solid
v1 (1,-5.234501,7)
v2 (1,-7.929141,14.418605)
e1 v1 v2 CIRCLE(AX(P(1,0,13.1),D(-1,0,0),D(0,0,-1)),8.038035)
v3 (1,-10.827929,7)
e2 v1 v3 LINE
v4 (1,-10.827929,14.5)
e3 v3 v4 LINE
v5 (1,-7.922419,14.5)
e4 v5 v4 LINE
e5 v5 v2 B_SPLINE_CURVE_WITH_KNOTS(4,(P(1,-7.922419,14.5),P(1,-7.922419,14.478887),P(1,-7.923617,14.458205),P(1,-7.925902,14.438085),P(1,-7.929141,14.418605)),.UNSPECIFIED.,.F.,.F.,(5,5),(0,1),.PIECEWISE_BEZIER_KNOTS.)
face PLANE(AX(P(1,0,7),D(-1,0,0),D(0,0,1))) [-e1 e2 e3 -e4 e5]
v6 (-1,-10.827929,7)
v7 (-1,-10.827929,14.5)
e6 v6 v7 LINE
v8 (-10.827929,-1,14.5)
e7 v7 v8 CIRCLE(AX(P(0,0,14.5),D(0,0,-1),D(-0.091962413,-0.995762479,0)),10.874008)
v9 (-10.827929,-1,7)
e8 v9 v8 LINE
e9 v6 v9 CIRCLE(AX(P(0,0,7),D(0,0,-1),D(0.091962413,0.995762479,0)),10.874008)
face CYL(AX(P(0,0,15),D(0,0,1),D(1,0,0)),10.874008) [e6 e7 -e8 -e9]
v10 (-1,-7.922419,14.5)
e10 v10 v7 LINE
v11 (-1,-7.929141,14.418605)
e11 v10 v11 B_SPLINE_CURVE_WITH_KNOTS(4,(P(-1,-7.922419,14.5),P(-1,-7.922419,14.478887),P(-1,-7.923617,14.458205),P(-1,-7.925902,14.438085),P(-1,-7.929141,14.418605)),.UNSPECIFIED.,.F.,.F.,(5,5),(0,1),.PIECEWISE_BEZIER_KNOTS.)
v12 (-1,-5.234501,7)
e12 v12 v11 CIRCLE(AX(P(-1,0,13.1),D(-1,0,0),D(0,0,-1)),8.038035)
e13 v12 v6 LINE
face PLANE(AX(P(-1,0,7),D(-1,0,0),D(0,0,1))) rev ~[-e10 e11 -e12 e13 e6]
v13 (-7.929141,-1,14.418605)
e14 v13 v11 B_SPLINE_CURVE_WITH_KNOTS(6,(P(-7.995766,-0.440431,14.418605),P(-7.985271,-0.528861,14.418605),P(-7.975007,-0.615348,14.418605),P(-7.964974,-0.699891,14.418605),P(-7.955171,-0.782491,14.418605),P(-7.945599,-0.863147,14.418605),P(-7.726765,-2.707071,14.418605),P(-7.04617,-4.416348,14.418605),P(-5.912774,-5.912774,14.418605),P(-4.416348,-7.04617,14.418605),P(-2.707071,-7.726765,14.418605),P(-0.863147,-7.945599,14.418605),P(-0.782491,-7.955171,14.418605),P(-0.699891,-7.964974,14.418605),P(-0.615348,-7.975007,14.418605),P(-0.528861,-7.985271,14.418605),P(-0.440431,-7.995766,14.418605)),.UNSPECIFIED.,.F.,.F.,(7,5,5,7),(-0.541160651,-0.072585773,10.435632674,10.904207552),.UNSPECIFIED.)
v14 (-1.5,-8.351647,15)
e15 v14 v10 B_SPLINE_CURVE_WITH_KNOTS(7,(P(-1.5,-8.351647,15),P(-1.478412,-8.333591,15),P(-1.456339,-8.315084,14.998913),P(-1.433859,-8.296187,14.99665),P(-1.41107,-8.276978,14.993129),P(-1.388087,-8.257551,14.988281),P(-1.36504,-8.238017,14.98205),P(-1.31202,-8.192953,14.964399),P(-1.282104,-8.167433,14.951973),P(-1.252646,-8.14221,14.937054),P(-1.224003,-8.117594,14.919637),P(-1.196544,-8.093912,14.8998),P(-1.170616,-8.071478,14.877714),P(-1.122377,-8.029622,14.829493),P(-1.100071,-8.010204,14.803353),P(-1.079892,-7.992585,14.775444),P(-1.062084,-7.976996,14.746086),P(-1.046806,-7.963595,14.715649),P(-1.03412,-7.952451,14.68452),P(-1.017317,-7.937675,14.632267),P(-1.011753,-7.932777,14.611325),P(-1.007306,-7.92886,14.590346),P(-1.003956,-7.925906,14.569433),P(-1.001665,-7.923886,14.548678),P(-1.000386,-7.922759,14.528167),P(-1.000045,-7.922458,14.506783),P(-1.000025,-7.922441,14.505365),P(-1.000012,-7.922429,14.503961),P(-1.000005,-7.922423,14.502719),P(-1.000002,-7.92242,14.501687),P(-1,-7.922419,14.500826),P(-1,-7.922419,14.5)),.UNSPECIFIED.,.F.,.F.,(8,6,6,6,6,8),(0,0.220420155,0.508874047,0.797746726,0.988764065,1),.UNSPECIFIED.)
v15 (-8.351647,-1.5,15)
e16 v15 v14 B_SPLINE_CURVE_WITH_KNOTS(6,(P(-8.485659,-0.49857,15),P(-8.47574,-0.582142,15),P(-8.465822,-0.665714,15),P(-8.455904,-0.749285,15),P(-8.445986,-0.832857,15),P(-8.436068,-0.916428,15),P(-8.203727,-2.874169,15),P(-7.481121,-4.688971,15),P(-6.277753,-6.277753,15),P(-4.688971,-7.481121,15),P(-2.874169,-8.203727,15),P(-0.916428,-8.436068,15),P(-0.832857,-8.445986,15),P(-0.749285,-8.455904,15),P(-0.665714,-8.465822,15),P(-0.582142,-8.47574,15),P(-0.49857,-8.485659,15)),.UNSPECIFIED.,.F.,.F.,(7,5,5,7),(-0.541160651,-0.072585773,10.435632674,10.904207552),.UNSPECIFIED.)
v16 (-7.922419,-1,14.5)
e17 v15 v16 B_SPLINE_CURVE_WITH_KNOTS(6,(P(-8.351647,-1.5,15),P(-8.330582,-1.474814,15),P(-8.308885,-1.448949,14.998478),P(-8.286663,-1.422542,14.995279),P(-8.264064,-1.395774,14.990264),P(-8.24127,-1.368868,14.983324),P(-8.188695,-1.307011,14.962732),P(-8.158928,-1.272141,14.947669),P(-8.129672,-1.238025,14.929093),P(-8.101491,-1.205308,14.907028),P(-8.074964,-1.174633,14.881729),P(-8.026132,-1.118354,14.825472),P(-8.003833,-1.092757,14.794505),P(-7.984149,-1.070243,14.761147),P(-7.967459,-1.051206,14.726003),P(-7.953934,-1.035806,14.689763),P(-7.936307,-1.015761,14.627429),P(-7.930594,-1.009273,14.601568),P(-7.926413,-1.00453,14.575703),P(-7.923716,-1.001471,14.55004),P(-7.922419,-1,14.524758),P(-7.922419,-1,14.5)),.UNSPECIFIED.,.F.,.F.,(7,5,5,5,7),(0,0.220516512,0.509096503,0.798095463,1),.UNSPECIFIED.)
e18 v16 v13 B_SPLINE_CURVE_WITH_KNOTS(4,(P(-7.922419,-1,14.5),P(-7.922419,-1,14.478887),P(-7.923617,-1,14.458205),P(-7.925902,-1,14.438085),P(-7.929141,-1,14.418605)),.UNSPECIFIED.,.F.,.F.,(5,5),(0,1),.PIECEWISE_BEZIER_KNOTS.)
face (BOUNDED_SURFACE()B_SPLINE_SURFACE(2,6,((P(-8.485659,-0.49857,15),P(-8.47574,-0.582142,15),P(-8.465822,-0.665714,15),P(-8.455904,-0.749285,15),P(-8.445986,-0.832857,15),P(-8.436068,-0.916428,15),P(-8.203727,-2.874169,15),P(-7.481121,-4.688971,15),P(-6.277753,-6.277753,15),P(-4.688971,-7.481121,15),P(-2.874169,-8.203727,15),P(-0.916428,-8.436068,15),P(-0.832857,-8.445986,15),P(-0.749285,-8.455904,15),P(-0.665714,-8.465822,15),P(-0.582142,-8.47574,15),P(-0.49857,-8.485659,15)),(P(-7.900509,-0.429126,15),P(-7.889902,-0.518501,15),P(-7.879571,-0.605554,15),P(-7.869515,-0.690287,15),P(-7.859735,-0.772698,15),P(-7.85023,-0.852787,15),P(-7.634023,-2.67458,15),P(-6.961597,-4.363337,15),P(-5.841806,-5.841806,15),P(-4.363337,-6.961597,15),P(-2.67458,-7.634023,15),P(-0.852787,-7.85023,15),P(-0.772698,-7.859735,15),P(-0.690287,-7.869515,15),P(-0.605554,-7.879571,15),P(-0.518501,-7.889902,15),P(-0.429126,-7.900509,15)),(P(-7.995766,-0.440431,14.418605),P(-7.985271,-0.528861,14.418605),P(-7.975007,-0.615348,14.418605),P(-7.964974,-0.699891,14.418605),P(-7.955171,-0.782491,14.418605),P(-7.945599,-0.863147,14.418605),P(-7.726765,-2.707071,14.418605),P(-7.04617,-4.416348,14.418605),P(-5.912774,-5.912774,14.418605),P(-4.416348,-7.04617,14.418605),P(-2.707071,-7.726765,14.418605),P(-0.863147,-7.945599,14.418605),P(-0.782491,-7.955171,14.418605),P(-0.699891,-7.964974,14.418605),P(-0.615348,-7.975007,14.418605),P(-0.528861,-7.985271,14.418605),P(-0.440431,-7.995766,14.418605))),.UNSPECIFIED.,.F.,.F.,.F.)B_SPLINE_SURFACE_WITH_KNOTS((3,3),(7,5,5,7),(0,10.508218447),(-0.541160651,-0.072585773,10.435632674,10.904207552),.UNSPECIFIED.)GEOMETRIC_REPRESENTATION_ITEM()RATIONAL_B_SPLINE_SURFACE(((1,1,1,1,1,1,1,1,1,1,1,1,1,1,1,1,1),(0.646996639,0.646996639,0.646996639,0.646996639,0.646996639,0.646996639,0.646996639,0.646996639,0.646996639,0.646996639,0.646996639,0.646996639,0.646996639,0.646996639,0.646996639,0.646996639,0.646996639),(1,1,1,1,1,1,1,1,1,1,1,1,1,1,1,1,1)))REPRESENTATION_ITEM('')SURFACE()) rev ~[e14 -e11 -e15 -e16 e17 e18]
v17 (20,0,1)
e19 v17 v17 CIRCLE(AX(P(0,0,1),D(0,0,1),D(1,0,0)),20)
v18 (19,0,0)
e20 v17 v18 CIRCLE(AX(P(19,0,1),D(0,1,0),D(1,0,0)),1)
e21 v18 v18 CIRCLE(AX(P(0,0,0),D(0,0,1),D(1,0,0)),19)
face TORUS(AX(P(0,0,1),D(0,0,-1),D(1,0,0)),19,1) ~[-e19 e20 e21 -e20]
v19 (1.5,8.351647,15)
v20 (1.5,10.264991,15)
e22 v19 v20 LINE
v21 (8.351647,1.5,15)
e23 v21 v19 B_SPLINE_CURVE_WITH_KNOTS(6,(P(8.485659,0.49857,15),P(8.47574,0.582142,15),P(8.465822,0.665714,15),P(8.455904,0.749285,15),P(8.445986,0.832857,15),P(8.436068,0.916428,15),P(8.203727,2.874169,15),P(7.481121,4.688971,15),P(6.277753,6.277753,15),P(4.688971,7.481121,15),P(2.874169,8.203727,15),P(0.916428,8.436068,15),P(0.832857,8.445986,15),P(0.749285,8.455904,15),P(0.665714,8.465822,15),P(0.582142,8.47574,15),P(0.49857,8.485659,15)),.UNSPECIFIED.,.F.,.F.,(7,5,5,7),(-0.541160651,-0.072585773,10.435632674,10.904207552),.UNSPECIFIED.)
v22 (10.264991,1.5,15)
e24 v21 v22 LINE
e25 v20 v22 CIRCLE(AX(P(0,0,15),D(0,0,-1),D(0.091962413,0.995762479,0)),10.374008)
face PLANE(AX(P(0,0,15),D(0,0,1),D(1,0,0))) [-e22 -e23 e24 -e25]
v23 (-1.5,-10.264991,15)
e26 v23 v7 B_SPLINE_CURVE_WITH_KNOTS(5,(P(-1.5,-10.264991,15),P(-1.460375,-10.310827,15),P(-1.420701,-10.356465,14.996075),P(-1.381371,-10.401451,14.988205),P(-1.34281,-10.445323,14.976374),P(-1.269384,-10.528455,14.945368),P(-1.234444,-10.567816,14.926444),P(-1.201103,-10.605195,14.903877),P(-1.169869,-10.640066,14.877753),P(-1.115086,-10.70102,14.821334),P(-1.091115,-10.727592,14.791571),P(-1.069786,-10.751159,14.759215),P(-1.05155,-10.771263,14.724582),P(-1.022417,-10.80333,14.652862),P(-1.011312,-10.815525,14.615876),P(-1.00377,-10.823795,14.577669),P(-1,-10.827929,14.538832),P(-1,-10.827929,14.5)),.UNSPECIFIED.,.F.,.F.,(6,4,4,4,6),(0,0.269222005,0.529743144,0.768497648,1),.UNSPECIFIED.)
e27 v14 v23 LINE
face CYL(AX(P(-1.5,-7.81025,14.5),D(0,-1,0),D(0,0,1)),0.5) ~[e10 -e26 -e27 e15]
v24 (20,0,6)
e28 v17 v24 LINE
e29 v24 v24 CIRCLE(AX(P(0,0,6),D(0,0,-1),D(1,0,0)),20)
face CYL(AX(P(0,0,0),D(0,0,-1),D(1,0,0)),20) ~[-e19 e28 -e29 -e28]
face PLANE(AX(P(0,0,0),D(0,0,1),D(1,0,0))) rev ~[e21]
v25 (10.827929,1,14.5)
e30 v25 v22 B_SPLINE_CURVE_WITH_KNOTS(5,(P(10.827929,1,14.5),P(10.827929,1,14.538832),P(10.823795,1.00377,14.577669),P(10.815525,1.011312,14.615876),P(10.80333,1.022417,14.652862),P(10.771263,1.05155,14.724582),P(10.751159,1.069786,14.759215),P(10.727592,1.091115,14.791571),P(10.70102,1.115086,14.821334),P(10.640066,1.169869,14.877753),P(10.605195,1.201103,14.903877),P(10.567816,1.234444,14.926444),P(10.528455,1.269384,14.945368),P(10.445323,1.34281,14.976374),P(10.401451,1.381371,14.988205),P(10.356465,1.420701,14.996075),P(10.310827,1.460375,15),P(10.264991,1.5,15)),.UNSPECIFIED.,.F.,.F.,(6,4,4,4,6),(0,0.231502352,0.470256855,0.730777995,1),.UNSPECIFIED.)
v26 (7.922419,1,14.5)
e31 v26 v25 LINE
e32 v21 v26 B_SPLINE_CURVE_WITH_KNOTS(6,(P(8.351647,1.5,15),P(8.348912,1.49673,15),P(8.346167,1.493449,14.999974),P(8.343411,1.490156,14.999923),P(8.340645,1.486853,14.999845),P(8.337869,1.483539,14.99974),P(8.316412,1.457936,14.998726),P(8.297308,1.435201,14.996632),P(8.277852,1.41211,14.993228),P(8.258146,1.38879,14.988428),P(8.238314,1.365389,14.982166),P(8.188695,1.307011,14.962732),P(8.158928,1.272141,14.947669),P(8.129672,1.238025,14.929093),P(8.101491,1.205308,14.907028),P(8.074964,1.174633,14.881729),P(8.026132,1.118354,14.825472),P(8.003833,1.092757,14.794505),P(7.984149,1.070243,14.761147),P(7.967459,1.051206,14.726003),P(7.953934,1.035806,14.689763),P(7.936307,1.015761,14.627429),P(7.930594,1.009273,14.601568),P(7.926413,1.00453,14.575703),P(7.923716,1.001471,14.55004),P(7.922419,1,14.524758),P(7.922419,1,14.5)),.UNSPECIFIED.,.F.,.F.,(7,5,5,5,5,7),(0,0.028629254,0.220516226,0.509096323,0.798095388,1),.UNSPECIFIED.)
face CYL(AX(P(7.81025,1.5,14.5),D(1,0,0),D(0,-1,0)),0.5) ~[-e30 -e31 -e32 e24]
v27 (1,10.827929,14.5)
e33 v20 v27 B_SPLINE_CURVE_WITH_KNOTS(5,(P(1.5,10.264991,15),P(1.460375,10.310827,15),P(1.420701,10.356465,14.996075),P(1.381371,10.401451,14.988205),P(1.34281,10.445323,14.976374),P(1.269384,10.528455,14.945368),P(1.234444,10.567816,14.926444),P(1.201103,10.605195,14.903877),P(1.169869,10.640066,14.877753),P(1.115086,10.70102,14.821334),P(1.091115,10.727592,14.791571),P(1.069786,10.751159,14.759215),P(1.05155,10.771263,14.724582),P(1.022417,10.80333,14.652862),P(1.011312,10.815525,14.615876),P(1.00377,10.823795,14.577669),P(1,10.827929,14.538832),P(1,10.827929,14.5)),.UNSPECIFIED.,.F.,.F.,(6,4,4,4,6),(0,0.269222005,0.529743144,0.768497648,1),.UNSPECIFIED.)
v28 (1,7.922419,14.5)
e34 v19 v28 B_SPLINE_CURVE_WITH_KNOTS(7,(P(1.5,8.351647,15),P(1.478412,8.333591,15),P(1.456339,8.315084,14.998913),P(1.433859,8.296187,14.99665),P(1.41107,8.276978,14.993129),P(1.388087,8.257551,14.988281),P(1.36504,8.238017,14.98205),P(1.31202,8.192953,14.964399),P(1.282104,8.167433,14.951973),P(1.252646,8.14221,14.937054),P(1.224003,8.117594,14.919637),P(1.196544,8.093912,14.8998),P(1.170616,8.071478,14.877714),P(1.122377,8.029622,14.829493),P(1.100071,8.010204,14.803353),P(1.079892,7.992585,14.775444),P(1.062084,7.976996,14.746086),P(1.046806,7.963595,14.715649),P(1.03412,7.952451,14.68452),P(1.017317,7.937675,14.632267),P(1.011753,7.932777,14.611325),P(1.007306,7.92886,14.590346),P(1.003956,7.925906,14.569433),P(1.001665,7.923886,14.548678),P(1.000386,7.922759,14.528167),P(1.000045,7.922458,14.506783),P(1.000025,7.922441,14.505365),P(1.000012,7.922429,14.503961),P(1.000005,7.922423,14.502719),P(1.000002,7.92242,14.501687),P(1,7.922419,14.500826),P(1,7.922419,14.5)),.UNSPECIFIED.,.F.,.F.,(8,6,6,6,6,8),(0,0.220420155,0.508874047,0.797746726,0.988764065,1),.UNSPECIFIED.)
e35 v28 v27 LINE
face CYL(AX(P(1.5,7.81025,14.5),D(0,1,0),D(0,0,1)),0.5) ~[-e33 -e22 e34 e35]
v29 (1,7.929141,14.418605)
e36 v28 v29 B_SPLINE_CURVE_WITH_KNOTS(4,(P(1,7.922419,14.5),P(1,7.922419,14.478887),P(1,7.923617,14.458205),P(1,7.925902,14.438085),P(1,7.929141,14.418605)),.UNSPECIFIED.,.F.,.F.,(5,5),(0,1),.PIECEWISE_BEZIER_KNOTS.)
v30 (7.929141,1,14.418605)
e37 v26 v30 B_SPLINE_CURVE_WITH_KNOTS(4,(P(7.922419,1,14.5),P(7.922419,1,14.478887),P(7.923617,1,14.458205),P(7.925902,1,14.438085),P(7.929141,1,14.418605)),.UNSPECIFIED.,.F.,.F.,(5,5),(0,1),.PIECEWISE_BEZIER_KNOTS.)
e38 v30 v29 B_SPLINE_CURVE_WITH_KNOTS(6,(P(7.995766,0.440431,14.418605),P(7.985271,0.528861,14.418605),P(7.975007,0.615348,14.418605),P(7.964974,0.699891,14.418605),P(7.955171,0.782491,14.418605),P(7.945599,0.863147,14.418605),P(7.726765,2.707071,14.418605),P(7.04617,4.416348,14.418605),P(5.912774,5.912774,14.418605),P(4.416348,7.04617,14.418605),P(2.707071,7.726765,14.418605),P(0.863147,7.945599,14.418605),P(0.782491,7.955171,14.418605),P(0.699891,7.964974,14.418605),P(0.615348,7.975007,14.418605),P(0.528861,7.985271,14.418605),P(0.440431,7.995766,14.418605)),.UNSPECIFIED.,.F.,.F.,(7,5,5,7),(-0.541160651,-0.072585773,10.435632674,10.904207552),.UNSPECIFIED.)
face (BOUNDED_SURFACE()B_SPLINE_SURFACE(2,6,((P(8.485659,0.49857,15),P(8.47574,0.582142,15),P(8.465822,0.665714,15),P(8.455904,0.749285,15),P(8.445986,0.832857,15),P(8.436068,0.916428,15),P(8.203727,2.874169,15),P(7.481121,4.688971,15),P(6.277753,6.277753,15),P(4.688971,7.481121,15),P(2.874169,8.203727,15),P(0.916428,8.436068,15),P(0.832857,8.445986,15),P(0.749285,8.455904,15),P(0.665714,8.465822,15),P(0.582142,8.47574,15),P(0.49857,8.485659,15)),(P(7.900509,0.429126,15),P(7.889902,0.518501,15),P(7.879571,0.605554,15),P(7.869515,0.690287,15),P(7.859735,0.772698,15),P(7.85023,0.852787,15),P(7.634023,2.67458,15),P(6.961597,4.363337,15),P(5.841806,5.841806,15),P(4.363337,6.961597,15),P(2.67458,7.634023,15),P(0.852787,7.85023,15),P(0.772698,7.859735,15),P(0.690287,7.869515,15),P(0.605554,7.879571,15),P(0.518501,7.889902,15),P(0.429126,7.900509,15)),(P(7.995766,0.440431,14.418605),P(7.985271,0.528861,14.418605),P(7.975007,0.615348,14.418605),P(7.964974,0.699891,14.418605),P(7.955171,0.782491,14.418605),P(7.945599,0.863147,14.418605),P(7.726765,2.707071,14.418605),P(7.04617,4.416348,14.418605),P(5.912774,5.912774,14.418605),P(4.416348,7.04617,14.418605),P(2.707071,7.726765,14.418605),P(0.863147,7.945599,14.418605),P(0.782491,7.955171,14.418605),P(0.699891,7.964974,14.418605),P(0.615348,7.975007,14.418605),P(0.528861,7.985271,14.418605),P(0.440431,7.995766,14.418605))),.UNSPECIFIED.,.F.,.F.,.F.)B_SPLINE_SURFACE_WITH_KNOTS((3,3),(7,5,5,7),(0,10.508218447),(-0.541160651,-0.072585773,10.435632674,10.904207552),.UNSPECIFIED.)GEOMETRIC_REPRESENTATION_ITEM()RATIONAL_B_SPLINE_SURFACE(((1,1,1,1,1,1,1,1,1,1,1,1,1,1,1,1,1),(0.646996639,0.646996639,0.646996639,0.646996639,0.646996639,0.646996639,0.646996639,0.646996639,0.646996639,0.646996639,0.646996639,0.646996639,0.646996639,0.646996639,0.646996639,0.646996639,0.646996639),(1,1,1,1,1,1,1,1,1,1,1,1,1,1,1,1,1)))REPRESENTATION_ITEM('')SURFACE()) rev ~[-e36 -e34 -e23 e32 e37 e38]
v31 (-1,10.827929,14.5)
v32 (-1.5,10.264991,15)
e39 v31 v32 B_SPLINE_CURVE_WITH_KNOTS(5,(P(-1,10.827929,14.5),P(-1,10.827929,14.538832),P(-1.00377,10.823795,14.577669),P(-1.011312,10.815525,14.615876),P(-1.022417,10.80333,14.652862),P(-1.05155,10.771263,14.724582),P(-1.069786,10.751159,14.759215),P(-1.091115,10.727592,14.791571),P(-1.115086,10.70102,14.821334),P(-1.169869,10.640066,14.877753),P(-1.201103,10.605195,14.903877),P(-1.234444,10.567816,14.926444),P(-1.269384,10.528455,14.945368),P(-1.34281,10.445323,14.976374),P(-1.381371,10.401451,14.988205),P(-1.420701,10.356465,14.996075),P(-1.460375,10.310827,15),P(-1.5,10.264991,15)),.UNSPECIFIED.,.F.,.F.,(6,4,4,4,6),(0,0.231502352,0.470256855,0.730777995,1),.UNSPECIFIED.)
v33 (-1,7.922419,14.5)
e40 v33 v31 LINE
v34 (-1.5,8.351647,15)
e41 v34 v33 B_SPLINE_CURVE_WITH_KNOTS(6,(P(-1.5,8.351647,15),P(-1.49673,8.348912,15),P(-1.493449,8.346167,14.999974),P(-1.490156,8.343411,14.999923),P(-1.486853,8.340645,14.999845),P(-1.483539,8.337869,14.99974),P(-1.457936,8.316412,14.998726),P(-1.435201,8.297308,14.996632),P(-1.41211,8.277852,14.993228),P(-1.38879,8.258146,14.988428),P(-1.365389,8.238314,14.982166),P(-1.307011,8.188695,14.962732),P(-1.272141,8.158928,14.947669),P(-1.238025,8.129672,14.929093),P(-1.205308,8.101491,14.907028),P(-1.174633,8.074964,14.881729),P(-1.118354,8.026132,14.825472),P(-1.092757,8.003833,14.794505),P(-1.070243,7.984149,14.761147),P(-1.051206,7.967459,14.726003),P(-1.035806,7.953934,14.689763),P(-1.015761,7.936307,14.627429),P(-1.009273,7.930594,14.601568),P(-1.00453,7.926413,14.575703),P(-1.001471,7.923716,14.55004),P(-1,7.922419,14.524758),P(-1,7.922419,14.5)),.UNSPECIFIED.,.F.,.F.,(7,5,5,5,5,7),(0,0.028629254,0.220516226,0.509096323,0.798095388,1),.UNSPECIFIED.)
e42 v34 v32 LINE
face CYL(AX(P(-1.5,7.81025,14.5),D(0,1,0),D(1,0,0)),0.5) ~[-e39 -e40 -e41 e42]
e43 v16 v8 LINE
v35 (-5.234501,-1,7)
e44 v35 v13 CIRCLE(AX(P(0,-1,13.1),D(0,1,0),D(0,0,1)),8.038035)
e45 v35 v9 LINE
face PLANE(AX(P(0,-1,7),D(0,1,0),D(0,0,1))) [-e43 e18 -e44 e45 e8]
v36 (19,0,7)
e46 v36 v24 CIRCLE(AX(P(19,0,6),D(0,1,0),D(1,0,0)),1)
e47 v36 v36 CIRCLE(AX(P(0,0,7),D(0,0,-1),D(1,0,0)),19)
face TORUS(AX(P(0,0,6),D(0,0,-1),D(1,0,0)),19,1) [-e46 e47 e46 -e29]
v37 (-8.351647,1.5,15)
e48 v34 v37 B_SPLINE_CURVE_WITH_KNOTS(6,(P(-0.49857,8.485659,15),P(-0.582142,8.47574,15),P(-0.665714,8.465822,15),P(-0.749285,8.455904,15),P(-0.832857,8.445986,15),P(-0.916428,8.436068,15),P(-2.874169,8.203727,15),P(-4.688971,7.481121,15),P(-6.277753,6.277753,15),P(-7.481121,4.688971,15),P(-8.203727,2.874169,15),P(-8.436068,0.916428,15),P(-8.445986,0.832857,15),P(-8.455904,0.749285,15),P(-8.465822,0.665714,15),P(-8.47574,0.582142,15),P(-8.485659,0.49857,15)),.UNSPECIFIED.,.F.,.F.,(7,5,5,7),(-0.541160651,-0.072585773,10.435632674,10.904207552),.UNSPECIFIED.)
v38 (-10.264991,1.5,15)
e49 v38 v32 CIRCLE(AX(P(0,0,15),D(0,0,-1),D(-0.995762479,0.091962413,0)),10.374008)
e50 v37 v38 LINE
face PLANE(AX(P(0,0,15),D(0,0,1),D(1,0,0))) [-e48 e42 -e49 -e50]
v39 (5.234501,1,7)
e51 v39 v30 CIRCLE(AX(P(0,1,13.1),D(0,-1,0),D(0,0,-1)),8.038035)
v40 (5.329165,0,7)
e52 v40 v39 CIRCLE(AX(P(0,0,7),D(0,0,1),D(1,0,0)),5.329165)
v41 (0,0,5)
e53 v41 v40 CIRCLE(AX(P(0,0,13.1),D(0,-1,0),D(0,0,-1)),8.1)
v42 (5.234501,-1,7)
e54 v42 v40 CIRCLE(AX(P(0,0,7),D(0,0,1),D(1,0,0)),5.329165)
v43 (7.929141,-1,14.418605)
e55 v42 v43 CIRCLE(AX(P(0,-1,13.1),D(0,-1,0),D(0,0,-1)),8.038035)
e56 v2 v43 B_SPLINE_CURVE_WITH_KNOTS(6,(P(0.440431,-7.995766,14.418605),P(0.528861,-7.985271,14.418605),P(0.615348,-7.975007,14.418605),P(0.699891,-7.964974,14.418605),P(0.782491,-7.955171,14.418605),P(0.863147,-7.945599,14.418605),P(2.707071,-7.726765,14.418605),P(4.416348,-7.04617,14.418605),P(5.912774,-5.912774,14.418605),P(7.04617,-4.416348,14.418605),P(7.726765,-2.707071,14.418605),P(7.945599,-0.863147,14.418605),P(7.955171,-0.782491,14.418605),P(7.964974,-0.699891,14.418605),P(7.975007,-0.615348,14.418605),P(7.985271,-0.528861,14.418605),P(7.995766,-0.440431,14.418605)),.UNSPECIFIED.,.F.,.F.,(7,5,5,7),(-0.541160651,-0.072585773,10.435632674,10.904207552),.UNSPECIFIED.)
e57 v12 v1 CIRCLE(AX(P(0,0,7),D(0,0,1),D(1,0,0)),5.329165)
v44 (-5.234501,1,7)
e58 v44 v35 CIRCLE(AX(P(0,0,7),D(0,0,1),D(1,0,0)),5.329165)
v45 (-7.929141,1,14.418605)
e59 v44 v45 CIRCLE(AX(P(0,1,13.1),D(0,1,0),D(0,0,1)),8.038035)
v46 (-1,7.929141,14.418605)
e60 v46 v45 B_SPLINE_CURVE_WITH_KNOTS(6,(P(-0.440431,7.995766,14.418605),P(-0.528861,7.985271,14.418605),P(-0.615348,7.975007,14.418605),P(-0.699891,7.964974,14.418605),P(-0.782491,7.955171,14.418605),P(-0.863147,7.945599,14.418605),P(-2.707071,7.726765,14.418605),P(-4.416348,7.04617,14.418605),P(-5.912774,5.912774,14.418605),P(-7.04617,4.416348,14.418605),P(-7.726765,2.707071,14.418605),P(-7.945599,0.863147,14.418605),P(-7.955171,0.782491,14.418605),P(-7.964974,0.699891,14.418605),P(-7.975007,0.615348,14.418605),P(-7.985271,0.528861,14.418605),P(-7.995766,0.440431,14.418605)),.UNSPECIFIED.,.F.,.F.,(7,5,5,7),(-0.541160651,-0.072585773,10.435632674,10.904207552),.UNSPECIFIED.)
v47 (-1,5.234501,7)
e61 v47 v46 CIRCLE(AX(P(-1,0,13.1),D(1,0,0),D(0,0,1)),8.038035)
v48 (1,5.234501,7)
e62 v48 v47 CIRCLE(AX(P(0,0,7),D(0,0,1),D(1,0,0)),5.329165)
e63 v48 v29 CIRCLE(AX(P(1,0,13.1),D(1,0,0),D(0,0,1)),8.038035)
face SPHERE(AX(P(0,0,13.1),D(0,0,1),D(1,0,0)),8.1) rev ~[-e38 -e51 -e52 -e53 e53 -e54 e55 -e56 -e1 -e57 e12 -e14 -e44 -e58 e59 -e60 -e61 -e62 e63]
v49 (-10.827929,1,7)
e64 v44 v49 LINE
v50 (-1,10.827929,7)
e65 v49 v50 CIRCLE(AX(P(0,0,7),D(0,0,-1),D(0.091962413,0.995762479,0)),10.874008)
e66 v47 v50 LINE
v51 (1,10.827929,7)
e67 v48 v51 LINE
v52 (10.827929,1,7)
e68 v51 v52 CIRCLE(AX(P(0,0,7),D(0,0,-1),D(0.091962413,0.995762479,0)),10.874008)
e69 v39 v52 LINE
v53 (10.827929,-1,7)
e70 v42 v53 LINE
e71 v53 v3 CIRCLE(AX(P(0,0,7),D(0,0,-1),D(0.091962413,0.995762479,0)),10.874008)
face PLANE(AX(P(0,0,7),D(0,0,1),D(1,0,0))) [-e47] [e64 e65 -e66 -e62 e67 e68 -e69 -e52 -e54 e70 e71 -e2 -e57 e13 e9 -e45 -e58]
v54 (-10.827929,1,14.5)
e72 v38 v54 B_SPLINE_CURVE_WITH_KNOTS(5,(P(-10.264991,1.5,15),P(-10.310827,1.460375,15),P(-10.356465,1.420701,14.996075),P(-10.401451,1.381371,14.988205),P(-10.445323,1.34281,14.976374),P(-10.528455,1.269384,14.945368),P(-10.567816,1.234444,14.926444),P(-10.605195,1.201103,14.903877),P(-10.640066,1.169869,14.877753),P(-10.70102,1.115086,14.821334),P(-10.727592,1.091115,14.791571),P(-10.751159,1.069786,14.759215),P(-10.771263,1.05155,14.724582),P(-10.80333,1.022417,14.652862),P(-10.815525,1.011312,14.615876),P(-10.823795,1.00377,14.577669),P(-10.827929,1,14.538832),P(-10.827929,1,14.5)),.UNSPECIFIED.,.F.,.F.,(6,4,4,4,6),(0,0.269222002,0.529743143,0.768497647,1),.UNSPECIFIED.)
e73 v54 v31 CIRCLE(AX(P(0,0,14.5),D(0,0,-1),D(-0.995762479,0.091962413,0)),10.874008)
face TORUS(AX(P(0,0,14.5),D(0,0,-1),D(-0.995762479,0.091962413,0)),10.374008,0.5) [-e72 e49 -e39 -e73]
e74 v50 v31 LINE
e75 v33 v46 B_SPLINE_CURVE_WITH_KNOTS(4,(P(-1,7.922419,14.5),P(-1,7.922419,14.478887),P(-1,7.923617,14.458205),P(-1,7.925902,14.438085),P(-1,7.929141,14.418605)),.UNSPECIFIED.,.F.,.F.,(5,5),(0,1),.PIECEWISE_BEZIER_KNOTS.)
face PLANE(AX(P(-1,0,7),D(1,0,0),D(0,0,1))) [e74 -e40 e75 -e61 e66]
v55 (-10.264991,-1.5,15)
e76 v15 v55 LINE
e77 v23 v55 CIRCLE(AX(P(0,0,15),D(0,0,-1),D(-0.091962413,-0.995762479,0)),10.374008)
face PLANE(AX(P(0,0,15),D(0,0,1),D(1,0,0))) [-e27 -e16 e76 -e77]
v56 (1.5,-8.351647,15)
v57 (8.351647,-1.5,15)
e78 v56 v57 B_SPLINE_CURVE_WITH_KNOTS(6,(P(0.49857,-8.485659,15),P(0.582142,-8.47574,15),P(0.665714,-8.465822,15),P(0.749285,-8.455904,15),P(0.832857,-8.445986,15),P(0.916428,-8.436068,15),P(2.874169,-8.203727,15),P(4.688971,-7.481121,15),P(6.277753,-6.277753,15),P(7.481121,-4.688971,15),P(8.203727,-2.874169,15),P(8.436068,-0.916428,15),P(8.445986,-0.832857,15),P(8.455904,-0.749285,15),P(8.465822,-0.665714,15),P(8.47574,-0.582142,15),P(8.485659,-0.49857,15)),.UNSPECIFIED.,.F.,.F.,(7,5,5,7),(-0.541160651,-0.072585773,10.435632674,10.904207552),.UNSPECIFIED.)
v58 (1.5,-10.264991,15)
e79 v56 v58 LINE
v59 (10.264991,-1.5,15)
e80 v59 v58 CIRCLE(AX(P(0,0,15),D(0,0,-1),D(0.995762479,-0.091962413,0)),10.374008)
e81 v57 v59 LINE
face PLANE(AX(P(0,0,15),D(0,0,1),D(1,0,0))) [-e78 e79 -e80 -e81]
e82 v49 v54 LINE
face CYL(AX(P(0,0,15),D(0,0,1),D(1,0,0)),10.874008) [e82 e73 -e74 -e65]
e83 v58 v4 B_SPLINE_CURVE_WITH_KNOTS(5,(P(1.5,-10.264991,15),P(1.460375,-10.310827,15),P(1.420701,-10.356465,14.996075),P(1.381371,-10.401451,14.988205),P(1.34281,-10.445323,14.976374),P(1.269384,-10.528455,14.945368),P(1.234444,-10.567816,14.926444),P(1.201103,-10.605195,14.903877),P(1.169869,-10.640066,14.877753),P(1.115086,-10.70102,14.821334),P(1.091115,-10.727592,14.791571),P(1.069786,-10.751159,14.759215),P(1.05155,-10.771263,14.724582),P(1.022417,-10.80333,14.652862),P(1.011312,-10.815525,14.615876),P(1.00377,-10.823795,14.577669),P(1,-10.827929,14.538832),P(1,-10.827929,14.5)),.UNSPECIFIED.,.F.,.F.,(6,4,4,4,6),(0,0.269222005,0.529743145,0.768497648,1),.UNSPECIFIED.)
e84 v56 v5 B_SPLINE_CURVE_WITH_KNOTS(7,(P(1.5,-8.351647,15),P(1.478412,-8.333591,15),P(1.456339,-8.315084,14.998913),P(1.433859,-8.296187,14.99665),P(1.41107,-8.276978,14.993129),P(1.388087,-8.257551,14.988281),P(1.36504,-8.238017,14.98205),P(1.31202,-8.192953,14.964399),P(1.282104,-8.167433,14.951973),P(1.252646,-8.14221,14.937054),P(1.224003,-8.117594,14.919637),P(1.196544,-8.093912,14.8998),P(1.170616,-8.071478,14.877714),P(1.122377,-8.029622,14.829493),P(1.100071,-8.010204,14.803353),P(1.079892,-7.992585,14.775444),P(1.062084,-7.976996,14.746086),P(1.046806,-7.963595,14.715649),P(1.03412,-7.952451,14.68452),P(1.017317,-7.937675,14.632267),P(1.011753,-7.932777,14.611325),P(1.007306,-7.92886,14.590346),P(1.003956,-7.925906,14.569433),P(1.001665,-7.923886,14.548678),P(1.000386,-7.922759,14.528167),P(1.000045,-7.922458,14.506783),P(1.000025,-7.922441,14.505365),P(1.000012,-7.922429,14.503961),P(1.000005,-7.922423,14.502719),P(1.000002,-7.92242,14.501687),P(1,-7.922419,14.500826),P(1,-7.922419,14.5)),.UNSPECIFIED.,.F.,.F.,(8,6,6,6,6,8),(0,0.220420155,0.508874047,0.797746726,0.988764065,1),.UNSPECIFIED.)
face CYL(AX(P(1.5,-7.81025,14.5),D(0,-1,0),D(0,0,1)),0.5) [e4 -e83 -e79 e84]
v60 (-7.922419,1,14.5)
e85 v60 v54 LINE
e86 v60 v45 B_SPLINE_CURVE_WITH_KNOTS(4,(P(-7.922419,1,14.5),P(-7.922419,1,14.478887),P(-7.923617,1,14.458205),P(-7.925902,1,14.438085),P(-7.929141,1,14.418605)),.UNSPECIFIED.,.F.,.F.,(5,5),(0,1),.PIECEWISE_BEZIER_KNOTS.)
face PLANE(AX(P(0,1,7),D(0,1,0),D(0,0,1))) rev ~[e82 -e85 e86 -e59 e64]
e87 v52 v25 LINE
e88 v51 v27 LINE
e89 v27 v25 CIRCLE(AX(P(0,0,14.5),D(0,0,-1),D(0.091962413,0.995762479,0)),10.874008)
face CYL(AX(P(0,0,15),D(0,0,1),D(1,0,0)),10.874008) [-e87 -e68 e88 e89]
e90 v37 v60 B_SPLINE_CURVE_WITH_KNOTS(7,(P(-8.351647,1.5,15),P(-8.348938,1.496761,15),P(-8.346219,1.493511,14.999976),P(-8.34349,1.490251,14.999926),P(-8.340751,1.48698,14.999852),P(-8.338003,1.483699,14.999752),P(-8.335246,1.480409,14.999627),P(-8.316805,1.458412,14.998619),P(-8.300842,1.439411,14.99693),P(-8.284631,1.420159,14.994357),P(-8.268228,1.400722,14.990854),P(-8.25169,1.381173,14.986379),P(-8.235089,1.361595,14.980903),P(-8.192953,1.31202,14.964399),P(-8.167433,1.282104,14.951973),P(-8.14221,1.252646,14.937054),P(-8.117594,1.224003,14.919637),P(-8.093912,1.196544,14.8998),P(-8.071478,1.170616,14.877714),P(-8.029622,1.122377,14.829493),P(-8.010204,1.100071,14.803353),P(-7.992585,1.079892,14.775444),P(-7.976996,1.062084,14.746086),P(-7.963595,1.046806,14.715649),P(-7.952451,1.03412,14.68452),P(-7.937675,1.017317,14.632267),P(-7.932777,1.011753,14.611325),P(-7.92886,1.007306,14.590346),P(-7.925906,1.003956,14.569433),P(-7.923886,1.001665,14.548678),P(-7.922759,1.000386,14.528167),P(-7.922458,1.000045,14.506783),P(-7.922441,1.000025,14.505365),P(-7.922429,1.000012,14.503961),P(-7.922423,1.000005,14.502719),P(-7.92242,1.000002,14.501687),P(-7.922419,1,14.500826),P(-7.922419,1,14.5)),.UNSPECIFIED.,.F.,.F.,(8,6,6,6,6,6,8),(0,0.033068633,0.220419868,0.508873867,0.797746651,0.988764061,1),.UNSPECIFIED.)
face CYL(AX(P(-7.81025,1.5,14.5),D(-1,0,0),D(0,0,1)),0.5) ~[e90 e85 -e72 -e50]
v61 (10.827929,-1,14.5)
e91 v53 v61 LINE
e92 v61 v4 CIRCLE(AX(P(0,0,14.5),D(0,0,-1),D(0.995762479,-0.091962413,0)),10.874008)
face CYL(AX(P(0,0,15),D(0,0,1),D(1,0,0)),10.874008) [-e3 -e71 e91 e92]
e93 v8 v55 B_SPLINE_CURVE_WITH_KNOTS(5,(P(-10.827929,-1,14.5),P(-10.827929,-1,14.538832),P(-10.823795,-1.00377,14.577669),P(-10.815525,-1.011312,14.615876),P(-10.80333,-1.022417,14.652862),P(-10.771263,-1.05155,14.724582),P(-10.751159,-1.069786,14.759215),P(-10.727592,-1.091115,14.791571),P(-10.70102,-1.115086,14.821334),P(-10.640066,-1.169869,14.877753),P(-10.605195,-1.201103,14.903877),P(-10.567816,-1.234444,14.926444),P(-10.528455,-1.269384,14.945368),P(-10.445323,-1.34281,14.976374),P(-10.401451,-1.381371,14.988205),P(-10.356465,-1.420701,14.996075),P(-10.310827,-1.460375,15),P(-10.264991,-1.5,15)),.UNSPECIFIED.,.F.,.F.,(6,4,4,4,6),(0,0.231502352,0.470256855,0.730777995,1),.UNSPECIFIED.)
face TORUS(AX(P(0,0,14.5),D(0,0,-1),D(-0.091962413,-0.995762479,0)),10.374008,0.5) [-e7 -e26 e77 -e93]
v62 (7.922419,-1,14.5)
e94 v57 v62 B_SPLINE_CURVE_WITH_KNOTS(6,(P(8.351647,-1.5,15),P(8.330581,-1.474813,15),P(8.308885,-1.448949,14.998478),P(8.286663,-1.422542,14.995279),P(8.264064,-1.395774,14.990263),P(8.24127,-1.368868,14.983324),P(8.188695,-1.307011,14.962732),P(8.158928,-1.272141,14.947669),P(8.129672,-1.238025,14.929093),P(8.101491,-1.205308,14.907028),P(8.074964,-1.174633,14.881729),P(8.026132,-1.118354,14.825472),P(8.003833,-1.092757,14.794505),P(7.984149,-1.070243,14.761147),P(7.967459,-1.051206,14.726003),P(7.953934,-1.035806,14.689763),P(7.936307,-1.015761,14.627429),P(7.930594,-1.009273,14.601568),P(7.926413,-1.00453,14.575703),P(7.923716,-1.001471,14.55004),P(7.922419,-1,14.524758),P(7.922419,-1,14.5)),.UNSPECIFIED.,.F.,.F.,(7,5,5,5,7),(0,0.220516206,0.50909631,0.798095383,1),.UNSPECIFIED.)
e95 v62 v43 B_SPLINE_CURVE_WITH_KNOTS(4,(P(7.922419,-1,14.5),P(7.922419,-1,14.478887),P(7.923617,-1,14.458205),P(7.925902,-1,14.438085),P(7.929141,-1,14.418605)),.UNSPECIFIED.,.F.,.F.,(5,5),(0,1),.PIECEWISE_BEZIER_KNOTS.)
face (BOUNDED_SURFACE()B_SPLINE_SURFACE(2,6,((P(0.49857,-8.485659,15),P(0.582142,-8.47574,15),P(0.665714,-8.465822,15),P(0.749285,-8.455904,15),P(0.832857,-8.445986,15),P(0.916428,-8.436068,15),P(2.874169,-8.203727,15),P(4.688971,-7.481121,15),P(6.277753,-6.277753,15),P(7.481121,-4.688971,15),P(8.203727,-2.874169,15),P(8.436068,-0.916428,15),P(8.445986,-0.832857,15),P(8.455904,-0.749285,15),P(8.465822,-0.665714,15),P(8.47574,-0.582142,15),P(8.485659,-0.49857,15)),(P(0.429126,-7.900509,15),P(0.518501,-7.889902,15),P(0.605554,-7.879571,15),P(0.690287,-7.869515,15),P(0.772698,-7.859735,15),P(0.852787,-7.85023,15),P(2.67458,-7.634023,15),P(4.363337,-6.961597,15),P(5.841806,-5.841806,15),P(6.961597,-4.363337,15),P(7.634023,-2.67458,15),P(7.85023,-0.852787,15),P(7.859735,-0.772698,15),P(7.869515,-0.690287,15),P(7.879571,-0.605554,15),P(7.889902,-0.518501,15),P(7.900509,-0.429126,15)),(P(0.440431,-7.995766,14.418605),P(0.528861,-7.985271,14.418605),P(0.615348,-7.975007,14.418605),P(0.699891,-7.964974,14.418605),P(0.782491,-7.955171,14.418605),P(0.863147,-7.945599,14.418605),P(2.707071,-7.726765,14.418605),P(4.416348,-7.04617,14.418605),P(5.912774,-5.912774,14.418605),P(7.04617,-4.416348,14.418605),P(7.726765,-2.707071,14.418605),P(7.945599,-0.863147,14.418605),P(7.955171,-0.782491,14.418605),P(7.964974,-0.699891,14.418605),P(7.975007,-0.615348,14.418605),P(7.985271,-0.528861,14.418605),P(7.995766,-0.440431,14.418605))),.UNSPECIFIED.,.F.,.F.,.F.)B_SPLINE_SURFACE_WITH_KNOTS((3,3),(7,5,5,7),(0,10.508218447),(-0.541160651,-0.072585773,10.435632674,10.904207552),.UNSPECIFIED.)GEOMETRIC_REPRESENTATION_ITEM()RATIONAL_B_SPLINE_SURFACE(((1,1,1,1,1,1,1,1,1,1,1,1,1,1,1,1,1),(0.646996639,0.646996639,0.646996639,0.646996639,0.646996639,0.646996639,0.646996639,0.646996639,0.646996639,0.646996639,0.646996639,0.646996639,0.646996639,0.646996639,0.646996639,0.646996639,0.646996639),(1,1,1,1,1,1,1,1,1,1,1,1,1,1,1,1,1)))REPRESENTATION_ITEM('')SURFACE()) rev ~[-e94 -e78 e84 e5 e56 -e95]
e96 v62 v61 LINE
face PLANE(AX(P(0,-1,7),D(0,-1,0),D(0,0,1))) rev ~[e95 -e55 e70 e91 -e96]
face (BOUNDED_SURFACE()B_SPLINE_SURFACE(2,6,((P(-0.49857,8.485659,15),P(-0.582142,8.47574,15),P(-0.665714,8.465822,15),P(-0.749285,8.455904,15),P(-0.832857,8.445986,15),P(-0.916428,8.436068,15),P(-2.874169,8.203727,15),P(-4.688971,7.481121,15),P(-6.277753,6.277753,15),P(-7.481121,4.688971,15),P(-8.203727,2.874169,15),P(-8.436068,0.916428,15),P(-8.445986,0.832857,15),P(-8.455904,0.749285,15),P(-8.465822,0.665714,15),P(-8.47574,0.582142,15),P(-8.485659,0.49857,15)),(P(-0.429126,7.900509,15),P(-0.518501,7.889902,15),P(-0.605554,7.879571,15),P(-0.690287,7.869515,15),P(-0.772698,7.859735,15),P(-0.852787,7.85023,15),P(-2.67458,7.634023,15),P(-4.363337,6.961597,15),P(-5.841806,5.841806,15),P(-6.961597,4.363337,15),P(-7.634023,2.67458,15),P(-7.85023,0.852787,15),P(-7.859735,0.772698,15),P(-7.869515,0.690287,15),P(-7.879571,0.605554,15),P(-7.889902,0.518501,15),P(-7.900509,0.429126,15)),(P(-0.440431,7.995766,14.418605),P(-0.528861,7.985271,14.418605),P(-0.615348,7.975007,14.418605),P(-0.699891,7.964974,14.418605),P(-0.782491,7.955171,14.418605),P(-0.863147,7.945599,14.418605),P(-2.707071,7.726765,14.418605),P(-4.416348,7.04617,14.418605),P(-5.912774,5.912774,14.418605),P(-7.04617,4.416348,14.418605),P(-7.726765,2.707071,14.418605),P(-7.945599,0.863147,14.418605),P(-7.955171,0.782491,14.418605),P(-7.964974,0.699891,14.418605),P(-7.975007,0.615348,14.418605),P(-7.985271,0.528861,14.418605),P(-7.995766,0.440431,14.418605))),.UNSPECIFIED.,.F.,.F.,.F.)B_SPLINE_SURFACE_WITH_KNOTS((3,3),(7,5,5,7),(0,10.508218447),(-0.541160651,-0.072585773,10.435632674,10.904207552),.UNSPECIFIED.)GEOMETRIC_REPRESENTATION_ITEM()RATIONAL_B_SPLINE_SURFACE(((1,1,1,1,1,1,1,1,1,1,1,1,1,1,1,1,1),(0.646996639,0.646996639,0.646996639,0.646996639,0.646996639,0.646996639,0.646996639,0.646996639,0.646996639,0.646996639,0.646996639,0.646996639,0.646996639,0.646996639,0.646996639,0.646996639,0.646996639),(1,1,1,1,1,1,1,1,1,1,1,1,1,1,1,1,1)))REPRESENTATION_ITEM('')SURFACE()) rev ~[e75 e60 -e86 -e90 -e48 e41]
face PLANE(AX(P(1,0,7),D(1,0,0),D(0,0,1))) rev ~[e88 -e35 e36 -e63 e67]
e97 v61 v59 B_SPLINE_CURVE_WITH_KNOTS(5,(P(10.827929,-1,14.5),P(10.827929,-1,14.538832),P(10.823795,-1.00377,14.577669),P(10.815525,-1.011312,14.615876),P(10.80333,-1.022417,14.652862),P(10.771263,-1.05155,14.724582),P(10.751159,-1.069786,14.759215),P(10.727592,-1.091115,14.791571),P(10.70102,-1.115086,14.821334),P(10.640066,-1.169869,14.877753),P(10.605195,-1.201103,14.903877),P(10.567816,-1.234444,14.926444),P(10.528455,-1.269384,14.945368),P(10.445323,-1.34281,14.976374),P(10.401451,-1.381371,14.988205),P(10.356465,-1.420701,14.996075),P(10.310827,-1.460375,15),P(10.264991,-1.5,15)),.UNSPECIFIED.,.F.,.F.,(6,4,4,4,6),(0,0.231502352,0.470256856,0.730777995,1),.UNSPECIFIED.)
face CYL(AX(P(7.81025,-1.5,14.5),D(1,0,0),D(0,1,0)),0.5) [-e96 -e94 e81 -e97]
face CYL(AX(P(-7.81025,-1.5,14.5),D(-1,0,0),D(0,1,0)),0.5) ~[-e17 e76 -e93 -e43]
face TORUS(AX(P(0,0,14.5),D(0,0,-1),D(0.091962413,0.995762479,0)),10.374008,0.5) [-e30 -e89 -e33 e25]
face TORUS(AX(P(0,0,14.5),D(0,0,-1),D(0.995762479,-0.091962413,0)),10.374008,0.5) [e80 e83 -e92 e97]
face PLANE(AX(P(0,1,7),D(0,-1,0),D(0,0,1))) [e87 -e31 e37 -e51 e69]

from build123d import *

# Parameters (mm, degrees)
F0_R          = 20
F1_DEPTH      = 15
F4_R          = 20
F4_R_2        = 10.874007874
F5_DEPTH      = 8
F6_W          = 2
F6_H          = 8
F7_DEPTH      = 20.001
F7_DEPTH_BACK = 20.001
F8_W          = 2
F8_H          = 8
F9_DEPTH      = 20.001
F9_DEPTH_BACK = 20.001
F10_R         = 0.5
F11_R         = 1


with BuildPart() as f1:
    # F0 (on Top) → F1 (new body)
    with BuildSketch(Plane.XY):
        Circle(F0_R)
    extrude(amount=F1_DEPTH)

    # F2 (on Front) → F3 (revolve, cut)
    with BuildSketch(Plane.XZ):
        with BuildLine():
            Line((0, 21.2), (0, 5))
            ThreePointArc((0, 5), (8.1, 13.1), (0, 21.2))
        make_face()
    revolve(axis=Axis((0, 0, 13.1), (0, 0, 1)), mode=Mode.SUBTRACT)

    # F4 (on face) → F5 (cut)
    with BuildSketch(Plane.XY.offset(15)):
        Circle(F4_R)
        Circle(F4_R_2, mode=Mode.SUBTRACT)
    extrude(amount=-F5_DEPTH, mode=Mode.SUBTRACT)

    # F6 (on Front) → F7 (cut, two sides)
    with BuildSketch(Plane.XZ) as f7_sk:
        with Locations((0, 11)):
            Rectangle(F6_W, F6_H)
    extrude(amount=-F7_DEPTH, mode=Mode.SUBTRACT)
    extrude(f7_sk.sketch, amount=F7_DEPTH_BACK, mode=Mode.SUBTRACT)

    # F8 (on Right) → F9 (cut, two sides)
    with BuildSketch(Plane.YZ) as f9_sk:
        with Locations((0, 11)):
            Rectangle(F8_W, F8_H)
    extrude(amount=-F9_DEPTH, mode=Mode.SUBTRACT)
    extrude(f9_sk.sketch, amount=F9_DEPTH_BACK, mode=Mode.SUBTRACT)

    # F10
    f10_edges = [f1.edges().sort_by_distance(p)[0] for p in [
        (-9.319089, -1, 15),
        (-5.567764, -5.567764, 15),
        (-1, -9.319089, 15),
        (-7.689085, -7.689085, 15),
        (-1, 9.319089, 15),
        (-5.567764, 5.567764, 15),
        (-9.319089, 1, 15),
        (-7.689085, 7.689085, 15),
        (1, -9.319089, 15),
        (5.567764, -5.567764, 15),
        (9.319089, -1, 15),
        (7.689085, -7.689085, 15),
        (9.319089, 1, 15),
        (5.567764, 5.567764, 15),
        (1, 9.319089, 15),
        (7.689085, 7.689085, 15),
    ]]
    fillet(f10_edges, radius=F10_R)

    # F11
    f11_edges = [f1.edges().sort_by_distance(p)[0] for p in [
        (-20, 0, 0),
        (20, 0, 3.5),
        (-20, 0, 7),
    ]]
    fillet(f11_edges, radius=F11_R)


solid = f1.part
